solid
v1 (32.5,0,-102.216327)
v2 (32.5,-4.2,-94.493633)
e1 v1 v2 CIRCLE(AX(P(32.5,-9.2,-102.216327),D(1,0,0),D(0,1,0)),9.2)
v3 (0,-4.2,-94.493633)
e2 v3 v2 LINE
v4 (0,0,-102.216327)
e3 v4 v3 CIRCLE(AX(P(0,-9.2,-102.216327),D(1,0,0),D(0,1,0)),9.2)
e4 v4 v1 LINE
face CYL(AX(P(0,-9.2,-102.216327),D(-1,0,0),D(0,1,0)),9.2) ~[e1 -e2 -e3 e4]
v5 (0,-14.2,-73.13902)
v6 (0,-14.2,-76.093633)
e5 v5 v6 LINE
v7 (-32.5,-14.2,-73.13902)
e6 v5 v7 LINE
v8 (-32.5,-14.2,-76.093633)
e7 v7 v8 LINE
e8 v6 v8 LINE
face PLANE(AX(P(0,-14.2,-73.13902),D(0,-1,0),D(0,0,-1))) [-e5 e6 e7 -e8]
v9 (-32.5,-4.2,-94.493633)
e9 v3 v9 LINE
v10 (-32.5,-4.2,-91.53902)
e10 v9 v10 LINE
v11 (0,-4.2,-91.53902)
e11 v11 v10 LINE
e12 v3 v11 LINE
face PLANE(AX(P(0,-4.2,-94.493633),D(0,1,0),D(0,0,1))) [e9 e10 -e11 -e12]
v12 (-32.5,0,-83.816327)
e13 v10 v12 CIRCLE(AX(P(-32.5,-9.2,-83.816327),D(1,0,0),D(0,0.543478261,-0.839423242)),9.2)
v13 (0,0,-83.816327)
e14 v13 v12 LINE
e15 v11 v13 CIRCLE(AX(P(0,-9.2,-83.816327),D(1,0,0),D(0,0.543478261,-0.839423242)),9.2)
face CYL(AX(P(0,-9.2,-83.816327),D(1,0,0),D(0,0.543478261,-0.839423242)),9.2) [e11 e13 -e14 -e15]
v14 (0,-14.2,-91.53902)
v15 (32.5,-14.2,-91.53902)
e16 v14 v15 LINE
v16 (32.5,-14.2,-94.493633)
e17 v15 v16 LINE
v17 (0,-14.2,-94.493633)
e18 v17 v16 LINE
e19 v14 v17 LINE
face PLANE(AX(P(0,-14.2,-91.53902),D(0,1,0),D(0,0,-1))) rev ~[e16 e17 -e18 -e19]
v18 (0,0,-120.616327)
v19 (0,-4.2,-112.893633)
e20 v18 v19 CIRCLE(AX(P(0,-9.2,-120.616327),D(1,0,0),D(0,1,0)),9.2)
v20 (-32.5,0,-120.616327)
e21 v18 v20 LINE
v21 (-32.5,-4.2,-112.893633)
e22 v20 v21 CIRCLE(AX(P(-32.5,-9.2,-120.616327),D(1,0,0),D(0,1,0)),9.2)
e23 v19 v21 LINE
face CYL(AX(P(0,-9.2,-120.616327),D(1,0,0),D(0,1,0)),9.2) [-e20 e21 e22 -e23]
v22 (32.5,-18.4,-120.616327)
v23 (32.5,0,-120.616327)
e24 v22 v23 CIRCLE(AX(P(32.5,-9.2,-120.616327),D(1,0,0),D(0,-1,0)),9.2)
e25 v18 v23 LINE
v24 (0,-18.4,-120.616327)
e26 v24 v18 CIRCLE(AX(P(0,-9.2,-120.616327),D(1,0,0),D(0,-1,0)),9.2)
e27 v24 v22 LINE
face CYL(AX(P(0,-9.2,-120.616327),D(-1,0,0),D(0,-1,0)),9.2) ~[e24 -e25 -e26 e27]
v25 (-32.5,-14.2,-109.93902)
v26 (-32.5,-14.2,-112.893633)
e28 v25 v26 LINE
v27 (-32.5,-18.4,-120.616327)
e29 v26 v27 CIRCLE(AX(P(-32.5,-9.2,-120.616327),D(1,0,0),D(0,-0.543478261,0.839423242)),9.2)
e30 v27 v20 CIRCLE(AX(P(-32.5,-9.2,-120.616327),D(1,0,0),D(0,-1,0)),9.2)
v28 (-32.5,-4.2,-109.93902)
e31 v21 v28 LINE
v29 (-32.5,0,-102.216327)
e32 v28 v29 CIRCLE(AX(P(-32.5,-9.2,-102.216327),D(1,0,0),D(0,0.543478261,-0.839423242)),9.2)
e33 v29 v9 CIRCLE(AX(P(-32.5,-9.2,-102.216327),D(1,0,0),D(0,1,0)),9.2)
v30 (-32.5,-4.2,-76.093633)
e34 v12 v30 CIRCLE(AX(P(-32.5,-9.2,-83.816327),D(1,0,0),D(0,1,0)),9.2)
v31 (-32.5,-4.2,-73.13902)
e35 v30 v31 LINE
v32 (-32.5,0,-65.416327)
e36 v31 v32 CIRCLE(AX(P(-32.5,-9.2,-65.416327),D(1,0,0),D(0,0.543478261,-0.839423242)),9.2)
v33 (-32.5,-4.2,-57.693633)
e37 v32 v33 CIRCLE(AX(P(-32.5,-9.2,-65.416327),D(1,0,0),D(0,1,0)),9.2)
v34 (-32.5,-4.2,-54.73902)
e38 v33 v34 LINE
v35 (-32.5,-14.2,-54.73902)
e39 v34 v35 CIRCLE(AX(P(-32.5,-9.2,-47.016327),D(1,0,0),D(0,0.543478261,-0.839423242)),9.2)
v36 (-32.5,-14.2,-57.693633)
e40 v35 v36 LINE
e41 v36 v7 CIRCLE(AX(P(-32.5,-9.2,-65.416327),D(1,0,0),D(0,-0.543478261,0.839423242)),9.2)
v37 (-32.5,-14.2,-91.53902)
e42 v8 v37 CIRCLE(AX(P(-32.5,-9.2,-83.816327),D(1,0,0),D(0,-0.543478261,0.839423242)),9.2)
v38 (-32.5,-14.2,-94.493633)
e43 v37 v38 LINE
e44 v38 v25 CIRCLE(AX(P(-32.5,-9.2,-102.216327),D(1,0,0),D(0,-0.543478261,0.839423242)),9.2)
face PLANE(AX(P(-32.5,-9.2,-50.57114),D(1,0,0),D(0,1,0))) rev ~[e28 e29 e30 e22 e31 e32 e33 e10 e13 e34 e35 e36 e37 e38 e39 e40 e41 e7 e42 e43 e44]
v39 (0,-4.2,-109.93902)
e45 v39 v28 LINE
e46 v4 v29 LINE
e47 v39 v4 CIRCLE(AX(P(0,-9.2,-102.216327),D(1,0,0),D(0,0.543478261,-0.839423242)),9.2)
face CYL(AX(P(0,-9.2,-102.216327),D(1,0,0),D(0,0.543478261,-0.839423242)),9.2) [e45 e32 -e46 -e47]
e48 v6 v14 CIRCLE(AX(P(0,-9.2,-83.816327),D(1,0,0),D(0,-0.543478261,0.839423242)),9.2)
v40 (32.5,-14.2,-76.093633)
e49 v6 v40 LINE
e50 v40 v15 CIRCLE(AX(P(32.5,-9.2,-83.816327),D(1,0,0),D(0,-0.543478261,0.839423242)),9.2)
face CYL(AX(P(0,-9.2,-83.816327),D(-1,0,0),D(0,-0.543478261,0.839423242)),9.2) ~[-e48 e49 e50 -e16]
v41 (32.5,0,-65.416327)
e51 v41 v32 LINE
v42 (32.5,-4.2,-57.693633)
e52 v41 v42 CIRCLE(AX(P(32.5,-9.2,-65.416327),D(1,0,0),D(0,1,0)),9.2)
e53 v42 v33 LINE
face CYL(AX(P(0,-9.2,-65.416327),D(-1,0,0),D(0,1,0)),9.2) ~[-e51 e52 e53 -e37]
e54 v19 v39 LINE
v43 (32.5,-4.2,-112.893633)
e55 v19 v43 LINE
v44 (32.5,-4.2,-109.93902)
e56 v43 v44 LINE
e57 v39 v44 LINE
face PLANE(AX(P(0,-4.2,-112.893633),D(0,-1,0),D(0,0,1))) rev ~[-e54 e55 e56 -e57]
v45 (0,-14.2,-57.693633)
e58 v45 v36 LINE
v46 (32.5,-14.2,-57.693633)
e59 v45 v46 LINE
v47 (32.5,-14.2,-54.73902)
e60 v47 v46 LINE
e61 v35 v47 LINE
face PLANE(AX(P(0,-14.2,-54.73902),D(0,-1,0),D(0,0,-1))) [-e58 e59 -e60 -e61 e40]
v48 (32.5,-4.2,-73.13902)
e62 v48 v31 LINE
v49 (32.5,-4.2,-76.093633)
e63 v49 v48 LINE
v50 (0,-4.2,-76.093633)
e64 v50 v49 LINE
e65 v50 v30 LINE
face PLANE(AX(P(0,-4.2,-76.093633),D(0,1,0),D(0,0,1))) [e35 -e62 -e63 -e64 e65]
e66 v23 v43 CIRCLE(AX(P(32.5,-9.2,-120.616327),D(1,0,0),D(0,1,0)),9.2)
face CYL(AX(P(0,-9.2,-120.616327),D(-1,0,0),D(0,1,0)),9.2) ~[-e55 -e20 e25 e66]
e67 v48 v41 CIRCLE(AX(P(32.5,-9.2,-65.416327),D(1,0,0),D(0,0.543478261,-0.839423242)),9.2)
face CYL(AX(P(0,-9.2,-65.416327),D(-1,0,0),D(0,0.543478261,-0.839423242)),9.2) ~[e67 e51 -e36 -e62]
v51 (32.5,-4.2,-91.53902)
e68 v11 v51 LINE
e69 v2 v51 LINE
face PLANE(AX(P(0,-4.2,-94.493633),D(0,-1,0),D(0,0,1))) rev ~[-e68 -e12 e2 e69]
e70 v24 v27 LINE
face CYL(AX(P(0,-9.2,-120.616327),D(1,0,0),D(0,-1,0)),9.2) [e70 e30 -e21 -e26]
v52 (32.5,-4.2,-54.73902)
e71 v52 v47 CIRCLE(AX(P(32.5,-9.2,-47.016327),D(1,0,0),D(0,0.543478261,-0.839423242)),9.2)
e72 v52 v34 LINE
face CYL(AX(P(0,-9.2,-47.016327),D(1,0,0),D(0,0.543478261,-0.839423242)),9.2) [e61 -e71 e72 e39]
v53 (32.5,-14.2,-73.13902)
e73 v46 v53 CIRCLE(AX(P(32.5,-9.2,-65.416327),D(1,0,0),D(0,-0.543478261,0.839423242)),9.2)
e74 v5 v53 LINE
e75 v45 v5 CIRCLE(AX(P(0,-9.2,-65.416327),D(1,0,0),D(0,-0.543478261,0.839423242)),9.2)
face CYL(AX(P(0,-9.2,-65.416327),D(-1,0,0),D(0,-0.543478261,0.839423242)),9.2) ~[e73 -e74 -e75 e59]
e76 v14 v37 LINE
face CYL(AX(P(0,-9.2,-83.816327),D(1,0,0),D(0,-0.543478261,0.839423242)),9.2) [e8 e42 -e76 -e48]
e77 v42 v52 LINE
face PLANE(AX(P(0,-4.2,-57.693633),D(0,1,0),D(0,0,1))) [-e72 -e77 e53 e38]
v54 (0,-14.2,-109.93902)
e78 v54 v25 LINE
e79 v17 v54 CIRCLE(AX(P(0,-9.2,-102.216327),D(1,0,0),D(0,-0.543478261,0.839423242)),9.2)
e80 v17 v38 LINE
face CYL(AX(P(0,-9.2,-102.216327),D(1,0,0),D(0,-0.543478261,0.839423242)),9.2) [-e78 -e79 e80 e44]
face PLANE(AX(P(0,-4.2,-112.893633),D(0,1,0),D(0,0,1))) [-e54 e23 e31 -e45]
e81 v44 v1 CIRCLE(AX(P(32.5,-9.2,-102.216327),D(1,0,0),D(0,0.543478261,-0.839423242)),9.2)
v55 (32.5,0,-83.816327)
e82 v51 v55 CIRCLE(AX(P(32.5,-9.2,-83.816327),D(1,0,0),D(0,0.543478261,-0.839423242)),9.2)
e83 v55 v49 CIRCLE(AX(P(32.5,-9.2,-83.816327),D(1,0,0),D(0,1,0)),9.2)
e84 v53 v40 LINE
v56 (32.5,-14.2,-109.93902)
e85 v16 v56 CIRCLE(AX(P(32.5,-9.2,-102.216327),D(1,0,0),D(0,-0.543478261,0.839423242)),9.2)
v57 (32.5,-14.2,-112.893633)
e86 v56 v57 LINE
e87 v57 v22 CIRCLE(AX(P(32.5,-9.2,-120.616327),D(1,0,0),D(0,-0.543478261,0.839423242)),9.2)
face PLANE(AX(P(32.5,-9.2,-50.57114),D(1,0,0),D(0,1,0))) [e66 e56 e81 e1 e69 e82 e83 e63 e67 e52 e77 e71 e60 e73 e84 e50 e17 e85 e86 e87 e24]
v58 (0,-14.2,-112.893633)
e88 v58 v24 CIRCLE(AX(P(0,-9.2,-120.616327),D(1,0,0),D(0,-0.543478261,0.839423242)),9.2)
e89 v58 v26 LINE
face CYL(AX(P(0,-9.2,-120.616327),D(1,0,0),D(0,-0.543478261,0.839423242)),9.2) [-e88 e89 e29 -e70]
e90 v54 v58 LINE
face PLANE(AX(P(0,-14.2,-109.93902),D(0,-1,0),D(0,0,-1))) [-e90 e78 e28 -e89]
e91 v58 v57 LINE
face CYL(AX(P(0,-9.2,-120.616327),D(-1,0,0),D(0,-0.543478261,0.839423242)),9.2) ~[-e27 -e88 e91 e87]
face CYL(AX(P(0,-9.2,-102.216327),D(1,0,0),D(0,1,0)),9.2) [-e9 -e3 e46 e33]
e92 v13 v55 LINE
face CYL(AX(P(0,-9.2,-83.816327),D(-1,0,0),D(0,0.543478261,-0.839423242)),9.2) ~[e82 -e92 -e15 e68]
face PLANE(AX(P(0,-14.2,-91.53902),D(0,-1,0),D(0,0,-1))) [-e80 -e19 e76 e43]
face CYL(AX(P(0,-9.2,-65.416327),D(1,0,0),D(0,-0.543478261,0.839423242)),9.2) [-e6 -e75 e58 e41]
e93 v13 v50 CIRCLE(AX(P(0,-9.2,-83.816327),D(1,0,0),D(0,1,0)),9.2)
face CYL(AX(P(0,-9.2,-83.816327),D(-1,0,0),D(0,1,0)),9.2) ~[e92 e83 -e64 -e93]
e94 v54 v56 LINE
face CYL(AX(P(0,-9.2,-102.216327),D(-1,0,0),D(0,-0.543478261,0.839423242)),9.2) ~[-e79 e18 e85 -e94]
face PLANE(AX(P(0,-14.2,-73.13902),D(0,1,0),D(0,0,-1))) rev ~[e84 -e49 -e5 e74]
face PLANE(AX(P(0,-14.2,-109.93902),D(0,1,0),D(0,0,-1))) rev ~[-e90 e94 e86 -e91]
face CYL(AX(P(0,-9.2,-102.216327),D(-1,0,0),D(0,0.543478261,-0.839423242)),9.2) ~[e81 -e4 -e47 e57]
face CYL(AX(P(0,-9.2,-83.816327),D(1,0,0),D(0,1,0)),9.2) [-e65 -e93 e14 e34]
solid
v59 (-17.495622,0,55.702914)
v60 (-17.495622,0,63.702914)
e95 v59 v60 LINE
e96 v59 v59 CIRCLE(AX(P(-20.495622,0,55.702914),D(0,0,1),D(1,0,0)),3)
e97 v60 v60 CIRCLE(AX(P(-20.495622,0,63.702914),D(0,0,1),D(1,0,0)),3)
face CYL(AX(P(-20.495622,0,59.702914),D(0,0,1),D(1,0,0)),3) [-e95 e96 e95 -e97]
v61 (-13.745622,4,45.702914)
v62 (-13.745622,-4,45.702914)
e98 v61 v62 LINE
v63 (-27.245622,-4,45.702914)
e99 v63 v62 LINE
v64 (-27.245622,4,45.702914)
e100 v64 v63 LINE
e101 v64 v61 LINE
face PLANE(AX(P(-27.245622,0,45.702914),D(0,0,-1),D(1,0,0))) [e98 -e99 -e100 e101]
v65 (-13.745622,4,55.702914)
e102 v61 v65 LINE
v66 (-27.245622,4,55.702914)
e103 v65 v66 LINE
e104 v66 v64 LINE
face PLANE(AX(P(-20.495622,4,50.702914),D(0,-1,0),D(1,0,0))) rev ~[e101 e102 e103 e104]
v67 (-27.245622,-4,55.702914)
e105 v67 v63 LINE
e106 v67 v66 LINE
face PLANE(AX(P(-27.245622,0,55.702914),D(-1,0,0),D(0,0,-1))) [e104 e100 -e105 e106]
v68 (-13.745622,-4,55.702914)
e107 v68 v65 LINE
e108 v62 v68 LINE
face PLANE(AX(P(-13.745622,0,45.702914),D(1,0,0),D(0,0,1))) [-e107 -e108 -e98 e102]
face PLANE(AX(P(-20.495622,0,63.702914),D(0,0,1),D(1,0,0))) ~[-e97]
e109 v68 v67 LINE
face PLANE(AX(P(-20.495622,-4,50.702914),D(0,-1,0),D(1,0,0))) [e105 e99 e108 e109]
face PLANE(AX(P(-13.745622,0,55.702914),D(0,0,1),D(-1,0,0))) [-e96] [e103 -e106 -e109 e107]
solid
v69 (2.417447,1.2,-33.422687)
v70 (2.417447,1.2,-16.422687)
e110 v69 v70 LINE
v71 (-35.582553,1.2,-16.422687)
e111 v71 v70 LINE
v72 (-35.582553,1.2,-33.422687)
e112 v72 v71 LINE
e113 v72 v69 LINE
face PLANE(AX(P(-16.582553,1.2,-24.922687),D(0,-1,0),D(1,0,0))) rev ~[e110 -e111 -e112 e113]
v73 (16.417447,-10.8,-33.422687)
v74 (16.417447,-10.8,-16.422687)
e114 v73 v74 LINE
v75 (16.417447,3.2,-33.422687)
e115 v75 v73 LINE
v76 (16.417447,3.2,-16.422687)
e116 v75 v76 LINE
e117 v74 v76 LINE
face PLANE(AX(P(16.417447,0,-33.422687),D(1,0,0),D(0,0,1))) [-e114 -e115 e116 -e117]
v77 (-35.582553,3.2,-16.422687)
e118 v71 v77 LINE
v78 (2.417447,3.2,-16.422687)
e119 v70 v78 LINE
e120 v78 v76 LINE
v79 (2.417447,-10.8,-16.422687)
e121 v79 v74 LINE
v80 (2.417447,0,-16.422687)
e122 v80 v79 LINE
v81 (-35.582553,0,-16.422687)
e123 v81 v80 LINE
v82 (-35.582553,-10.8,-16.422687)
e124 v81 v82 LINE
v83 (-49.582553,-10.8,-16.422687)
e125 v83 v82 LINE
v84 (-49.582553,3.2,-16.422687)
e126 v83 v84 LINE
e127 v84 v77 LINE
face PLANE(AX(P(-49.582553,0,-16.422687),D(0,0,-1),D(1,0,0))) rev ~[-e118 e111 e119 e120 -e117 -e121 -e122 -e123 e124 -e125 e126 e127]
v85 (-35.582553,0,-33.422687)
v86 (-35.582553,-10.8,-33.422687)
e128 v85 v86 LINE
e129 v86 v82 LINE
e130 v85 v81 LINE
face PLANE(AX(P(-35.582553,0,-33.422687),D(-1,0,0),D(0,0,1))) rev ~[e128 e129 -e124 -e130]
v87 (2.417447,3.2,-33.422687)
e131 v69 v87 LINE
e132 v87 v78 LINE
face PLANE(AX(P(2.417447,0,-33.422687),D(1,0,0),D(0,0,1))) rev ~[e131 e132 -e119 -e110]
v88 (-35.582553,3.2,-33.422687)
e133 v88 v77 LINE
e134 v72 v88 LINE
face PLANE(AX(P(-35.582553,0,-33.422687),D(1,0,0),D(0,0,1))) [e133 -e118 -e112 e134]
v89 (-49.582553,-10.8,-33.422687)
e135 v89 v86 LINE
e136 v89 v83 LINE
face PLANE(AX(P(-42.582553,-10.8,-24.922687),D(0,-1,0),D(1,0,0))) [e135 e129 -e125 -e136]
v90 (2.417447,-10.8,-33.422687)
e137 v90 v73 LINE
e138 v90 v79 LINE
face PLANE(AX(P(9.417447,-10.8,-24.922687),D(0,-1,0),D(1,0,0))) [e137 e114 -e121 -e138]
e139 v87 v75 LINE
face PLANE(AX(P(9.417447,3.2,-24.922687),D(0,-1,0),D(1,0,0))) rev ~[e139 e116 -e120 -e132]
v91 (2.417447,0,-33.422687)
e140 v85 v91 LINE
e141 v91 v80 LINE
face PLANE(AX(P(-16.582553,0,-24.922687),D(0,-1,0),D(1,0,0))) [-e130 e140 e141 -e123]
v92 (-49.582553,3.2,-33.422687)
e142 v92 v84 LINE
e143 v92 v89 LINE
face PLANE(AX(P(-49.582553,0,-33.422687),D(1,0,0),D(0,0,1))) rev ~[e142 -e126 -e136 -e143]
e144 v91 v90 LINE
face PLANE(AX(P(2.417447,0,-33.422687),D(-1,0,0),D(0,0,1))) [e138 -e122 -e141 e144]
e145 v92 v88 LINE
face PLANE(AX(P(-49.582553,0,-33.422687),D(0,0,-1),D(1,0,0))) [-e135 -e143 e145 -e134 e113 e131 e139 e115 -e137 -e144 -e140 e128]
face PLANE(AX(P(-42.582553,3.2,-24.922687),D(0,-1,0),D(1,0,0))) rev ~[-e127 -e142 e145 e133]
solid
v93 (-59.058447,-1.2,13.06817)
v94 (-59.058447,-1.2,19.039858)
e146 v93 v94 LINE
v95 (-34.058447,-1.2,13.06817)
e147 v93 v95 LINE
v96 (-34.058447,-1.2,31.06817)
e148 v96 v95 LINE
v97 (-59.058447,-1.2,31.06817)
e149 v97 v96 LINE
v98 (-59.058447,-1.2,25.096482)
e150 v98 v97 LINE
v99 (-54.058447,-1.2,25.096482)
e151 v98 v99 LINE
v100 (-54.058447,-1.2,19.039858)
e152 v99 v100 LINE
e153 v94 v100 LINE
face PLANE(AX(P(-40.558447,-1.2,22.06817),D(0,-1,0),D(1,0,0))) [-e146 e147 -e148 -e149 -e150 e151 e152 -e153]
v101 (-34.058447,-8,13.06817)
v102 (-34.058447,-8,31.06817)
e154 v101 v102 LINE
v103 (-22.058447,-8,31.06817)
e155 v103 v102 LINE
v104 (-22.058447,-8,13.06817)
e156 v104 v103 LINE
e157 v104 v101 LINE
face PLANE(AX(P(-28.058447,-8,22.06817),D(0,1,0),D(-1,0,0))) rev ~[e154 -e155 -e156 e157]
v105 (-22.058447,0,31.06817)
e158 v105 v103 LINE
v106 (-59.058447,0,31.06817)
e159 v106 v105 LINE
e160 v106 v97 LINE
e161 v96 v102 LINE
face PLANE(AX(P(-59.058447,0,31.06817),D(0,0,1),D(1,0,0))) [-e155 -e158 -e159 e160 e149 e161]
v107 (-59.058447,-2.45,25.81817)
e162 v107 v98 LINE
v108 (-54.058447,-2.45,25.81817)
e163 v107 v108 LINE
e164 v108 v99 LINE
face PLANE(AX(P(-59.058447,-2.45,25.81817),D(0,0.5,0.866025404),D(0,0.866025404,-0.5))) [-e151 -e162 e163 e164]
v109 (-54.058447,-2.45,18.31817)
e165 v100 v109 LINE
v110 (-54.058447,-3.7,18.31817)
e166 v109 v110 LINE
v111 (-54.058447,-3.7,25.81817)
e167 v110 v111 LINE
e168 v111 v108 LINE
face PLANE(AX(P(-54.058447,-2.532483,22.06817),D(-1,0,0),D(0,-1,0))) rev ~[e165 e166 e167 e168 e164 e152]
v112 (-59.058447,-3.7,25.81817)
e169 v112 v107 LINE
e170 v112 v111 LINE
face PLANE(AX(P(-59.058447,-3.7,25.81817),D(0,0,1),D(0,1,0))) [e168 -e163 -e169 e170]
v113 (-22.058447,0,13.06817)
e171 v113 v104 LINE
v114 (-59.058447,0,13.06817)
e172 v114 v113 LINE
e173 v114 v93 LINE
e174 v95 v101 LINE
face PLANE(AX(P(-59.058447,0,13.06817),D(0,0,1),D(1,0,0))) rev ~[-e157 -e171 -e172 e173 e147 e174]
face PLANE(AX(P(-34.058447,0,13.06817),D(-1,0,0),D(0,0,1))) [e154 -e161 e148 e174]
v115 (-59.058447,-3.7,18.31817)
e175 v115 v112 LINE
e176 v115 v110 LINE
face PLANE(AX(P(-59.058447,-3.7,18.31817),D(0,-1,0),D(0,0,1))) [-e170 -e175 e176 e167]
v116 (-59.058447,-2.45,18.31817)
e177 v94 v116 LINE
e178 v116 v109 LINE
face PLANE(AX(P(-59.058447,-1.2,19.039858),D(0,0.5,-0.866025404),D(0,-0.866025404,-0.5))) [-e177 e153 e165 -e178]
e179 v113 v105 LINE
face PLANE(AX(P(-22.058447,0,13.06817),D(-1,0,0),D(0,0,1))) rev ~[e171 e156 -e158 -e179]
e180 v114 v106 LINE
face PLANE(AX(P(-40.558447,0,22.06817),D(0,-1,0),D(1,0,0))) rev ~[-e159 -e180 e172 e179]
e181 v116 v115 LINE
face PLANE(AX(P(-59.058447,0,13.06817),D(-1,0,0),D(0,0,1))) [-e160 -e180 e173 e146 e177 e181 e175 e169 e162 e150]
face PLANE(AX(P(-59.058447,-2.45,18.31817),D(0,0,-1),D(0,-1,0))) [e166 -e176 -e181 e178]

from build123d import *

# Parameters (mm, degrees)
F2_DEPTH      = 32.5
F0_W          = 38
F0_H          = 17
F3_DEPTH      = 1.2
F0_W_2        = 37
F0_H_2        = 18
F4_DEPTH      = 1.2
F5_DEPTH      = 4
F0_W_3        = 3
F0_H_3        = 8
F0_W_4        = 14
F7_DEPTH      = 10.8
F7_DEPTH_BACK = 3.2
F9_DEPTH      = 5
F10_W         = 12
F10_H         = 18
F11_DEPTH     = 8


with BuildPart() as f2:
    # F1 (on Right) → F2 (new body, symmetric)
    with BuildSketch(Plane.YZ):
        with BuildLine():
            ThreePointArc((-4.2, -54.7390203901), (-1.1179210595, -51.4117787547), (0, -47.0163265596))
            Line((0, -47.0163265596), (-18.4, -47.0163265596))
            ThreePointArc((-18.4, -47.0163265596), (-17.2820789405, -51.4117787547), (-14.2, -54.7390203901))
            ThreePointArc((-14.2, -54.7390203901), (-11.8068387969, -55.8392734305), (-9.2000000533, -56.2163265596))
            ThreePointArc((-9.2000000533, -56.2163265596), (-6.5931612543, -55.8392734456), (-4.2, -54.7390203901))
        make_face()
        with BuildLine():
            Line((-18.4, -47.0163265596), (0, -47.0163265596))
            ThreePointArc((0, -47.0163265596), (-9.2, -37.8163265596), (-18.4, -47.0163265596))
        make_face()
        with BuildLine():
            Line((-4.2, -57.6936327291), (-4.2, -54.7390203901))
            ThreePointArc((-4.2, -54.7390203901), (-6.5931612543, -55.8392734456), (-9.2000000533, -56.2163265596))
            ThreePointArc((-9.2000000533, -56.2163265596), (-6.5931612543, -56.5933796736), (-4.2, -57.6936327291))
        make_face()
        with BuildLine():
            ThreePointArc((-9.2000000533, -56.2163265596), (-11.8068387969, -55.8392734305), (-14.2, -54.7390203901))
            Line((-14.2, -54.7390203901), (-14.2, -57.6936327291))
            ThreePointArc((-14.2, -57.6936327291), (-11.8068387969, -56.5933796887), (-9.2000000533, -56.2163265596))
        make_face()
        with BuildLine():
            ThreePointArc((-4.2, -57.6936327291), (-6.5931612543, -56.5933796736), (-9.2000000533, -56.2163265596))
            ThreePointArc((-9.2000000533, -56.2163265596), (-11.8068387969, -56.5933796887), (-14.2, -57.6936327291))
            Line((-14.2, -57.6936327291), (-14.2, -73.1390203901))
            ThreePointArc((-14.2, -73.1390203901), (-11.8068387713, -74.2392734381), (-9.2, -74.6163265596))
            ThreePointArc((-9.2, -74.6163265596), (-6.5931612287, -74.2392734381), (-4.2, -73.1390203901))
            Line((-4.2, -73.1390203901), (-4.2, -57.6936327291))
        make_face()
        with BuildLine():
            ThreePointArc((0, -65.4163265596), (-1.1179210595, -61.0208743644), (-4.2, -57.6936327291))
            Line((-4.2, -57.6936327291), (-4.2, -73.1390203901))
            ThreePointArc((-4.2, -73.1390203901), (-1.1179210595, -69.8117787547), (0, -65.4163265596))
        make_face()
        with BuildLine():
            Line((-14.2, -73.1390203901), (-14.2, -57.6936327291))
            ThreePointArc((-14.2, -57.6936327291), (-18.4, -65.4163265596), (-14.2, -73.1390203901))
        make_face()
        with BuildLine():
            Line((-4.2, -76.0936327291), (-4.2, -73.1390203901))
            ThreePointArc((-4.2, -73.1390203901), (-6.5931612287, -74.2392734381), (-9.2, -74.6163265596))
            ThreePointArc((-9.2, -74.6163265596), (-6.5931612287, -74.9933796811), (-4.2, -76.0936327291))
        make_face()
        with BuildLine():
            ThreePointArc((-9.2, -74.6163265596), (-11.8068387713, -74.2392734381), (-14.2, -73.1390203901))
            Line((-14.2, -73.1390203901), (-14.2, -76.0936327291))
            ThreePointArc((-14.2, -76.0936327291), (-11.8068387713, -74.9933796811), (-9.2, -74.6163265596))
        make_face()
        with BuildLine():
            ThreePointArc((-4.2, -76.0936327291), (-6.5931612287, -74.9933796811), (-9.2, -74.6163265596))
            ThreePointArc((-9.2, -74.6163265596), (-11.8068387713, -74.9933796811), (-14.2, -76.0936327291))
            Line((-14.2, -76.0936327291), (-14.2, -91.5390203901))
            ThreePointArc((-14.2, -91.5390203901), (-11.8068387713, -92.6392734381), (-9.2, -93.0163265596))
            ThreePointArc((-9.2, -93.0163265596), (-6.5931612287, -92.6392734381), (-4.2, -91.5390203901))
            Line((-4.2, -91.5390203901), (-4.2, -76.0936327291))
        make_face()
        with BuildLine():
            ThreePointArc((0, -83.8163265596), (-1.1179210595, -79.4208743644), (-4.2, -76.0936327291))
            Line((-4.2, -76.0936327291), (-4.2, -91.5390203901))
            ThreePointArc((-4.2, -91.5390203901), (-1.1179210595, -88.2117787547), (0, -83.8163265596))
        make_face()
        with BuildLine():
            Line((-14.2, -91.5390203901), (-14.2, -76.0936327291))
            ThreePointArc((-14.2, -76.0936327291), (-18.4, -83.8163265596), (-14.2, -91.5390203901))
        make_face()
        with BuildLine():
            Line((-4.2, -94.4936327291), (-4.2, -91.5390203901))
            ThreePointArc((-4.2, -91.5390203901), (-6.5931612287, -92.6392734381), (-9.2, -93.0163265596))
            ThreePointArc((-9.2, -93.0163265596), (-6.5931612287, -93.3933796811), (-4.2, -94.4936327291))
        make_face()
        with BuildLine():
            ThreePointArc((-9.2, -93.0163265596), (-11.8068387713, -92.6392734381), (-14.2, -91.5390203901))
            Line((-14.2, -91.5390203901), (-14.2, -94.4936327291))
            ThreePointArc((-14.2, -94.4936327291), (-11.8068387713, -93.3933796811), (-9.2, -93.0163265596))
        make_face()
        with BuildLine():
            ThreePointArc((-4.2, -94.4936327291), (-6.5931612287, -93.3933796811), (-9.2, -93.0163265596))
            ThreePointArc((-9.2, -93.0163265596), (-11.8068387713, -93.3933796811), (-14.2, -94.4936327291))
            Line((-14.2, -94.4936327291), (-14.2, -109.9390203901))
            ThreePointArc((-14.2, -109.9390203901), (-11.8068387713, -111.0392734381), (-9.2, -111.4163265596))
            ThreePointArc((-9.2, -111.4163265596), (-6.5931612287, -111.0392734381), (-4.2, -109.9390203901))
            Line((-4.2, -109.9390203901), (-4.2, -94.4936327291))
        make_face()
        with BuildLine():
            ThreePointArc((0, -102.2163265596), (-1.1179210595, -97.8208743644), (-4.2, -94.4936327291))
            Line((-4.2, -94.4936327291), (-4.2, -109.9390203901))
            ThreePointArc((-4.2, -109.9390203901), (-1.1179210595, -106.6117787547), (0, -102.2163265596))
        make_face()
        with BuildLine():
            Line((-14.2, -109.9390203901), (-14.2, -94.4936327291))
            ThreePointArc((-14.2, -94.4936327291), (-18.4, -102.2163265596), (-14.2, -109.9390203901))
        make_face()
        with BuildLine():
            Line((-4.2, -112.8936327291), (-4.2, -109.9390203901))
            ThreePointArc((-4.2, -109.9390203901), (-6.5931612287, -111.0392734381), (-9.2, -111.4163265596))
            ThreePointArc((-9.2, -111.4163265596), (-6.5931612287, -111.7933796811), (-4.2, -112.8936327291))
        make_face()
        with BuildLine():
            ThreePointArc((-9.2, -111.4163265596), (-11.8068387713, -111.0392734381), (-14.2, -109.9390203901))
            Line((-14.2, -109.9390203901), (-14.2, -112.8936327291))
            ThreePointArc((-14.2, -112.8936327291), (-11.8068387713, -111.7933796811), (-9.2, -111.4163265596))
        make_face()
        with BuildLine():
            ThreePointArc((0, -120.6163265596), (-1.1179210595, -116.2208743644), (-4.2, -112.8936327291))
            ThreePointArc((-4.2, -112.8936327291), (-6.5931612287, -111.7933796811), (-9.2, -111.4163265596))
            ThreePointArc((-9.2, -111.4163265596), (-11.8068387713, -111.7933796811), (-14.2, -112.8936327291))
            ThreePointArc((-14.2, -112.8936327291), (-17.2820789405, -116.2208743644), (-18.4, -120.6163265596))
            Line((-18.4, -120.6163265596), (0, -120.6163265596))
        make_face()
        with BuildLine():
            ThreePointArc((-18.4, -120.6163265596), (-9.2, -129.8163265596), (0, -120.6163265596))
            Line((0, -120.6163265596), (-18.4, -120.6163265596))
        make_face()
    extrude(amount=F2_DEPTH, both=True)


with BuildPart() as f3:
    # F0 (on Front) → F3 (new body)
    with BuildSketch(Plane.XZ):
        with Locations((-16.5825526439, -24.9226867318)):
            Rectangle(F0_W, F0_H)
    extrude(amount=-F3_DEPTH)

    # F0 (on Front) → F7 (join, two sides)
    with BuildSketch(Plane.XZ) as f7_sk:
        with Locations((-42.5825526439, -24.9226867318)):
            Rectangle(F0_W_4, F0_H)
        with Locations((9.4174473561, -24.9226867318)):
            Rectangle(F0_W_4, F0_H)
    extrude(amount=F7_DEPTH)
    extrude(f7_sk.sketch, amount=-F7_DEPTH_BACK)


with BuildPart() as f4:
    # F0 (on Front) → F4 (new body)
    with BuildSketch(Plane.XZ):
        with Locations((-40.5584470165, 22.0681699405)):
            Rectangle(F0_W_2, F0_H_2)
    extrude(amount=F4_DEPTH)

    # F8 (on face) → F9 (join)
    with BuildSketch(Plane(origin=(-59.0584470165, 0, 0), x_dir=(0, -1, 0), z_dir=(-1, 0, 0))):
        Polygon((2.45, 25.8181699405), (1.2, 25.096482104), (1.2, 19.039857777), (2.45, 18.3181699405), (3.7, 18.3181699405), (3.7, 25.8181699405), align=None)
    extrude(amount=-F9_DEPTH)

    # F10 (on face) → F11 (join)
    with BuildSketch(Plane(origin=(0, 0, 0), x_dir=(-1, 0, 0), z_dir=(0, 1, 0))):
        with Locations((28.0584470165, 22.0681699405)):
            Rectangle(F10_W, F10_H)
    extrude(amount=-F11_DEPTH)


with BuildPart() as f5:
    # F0 (on Front) → F5 (new body, symmetric)
    with BuildSketch(Plane.XZ):
        Polygon((-20.4956220064, 55.7029140266), (-27.2456220064, 55.7029140266), (-27.2456220064, 45.7029140266), (-13.7456220064, 45.7029140266), (-13.7456220064, 55.7029140266), (-17.4956220064, 55.7029140266), align=None)
    extrude(amount=F5_DEPTH, both=True)

    # F0 (on Front) → F6 (revolve)
    with BuildSketch(Plane.XZ):
        with Locations((-18.9956220064, 59.7029140266)):
            Rectangle(F0_W_3, F0_H_3)
    revolve(axis=Axis((-20.4956220064, 0, 59.7029140266), (0, 0, 1)))


solid = Compound([f2.part, f3.part, f4.part, f5.part])
